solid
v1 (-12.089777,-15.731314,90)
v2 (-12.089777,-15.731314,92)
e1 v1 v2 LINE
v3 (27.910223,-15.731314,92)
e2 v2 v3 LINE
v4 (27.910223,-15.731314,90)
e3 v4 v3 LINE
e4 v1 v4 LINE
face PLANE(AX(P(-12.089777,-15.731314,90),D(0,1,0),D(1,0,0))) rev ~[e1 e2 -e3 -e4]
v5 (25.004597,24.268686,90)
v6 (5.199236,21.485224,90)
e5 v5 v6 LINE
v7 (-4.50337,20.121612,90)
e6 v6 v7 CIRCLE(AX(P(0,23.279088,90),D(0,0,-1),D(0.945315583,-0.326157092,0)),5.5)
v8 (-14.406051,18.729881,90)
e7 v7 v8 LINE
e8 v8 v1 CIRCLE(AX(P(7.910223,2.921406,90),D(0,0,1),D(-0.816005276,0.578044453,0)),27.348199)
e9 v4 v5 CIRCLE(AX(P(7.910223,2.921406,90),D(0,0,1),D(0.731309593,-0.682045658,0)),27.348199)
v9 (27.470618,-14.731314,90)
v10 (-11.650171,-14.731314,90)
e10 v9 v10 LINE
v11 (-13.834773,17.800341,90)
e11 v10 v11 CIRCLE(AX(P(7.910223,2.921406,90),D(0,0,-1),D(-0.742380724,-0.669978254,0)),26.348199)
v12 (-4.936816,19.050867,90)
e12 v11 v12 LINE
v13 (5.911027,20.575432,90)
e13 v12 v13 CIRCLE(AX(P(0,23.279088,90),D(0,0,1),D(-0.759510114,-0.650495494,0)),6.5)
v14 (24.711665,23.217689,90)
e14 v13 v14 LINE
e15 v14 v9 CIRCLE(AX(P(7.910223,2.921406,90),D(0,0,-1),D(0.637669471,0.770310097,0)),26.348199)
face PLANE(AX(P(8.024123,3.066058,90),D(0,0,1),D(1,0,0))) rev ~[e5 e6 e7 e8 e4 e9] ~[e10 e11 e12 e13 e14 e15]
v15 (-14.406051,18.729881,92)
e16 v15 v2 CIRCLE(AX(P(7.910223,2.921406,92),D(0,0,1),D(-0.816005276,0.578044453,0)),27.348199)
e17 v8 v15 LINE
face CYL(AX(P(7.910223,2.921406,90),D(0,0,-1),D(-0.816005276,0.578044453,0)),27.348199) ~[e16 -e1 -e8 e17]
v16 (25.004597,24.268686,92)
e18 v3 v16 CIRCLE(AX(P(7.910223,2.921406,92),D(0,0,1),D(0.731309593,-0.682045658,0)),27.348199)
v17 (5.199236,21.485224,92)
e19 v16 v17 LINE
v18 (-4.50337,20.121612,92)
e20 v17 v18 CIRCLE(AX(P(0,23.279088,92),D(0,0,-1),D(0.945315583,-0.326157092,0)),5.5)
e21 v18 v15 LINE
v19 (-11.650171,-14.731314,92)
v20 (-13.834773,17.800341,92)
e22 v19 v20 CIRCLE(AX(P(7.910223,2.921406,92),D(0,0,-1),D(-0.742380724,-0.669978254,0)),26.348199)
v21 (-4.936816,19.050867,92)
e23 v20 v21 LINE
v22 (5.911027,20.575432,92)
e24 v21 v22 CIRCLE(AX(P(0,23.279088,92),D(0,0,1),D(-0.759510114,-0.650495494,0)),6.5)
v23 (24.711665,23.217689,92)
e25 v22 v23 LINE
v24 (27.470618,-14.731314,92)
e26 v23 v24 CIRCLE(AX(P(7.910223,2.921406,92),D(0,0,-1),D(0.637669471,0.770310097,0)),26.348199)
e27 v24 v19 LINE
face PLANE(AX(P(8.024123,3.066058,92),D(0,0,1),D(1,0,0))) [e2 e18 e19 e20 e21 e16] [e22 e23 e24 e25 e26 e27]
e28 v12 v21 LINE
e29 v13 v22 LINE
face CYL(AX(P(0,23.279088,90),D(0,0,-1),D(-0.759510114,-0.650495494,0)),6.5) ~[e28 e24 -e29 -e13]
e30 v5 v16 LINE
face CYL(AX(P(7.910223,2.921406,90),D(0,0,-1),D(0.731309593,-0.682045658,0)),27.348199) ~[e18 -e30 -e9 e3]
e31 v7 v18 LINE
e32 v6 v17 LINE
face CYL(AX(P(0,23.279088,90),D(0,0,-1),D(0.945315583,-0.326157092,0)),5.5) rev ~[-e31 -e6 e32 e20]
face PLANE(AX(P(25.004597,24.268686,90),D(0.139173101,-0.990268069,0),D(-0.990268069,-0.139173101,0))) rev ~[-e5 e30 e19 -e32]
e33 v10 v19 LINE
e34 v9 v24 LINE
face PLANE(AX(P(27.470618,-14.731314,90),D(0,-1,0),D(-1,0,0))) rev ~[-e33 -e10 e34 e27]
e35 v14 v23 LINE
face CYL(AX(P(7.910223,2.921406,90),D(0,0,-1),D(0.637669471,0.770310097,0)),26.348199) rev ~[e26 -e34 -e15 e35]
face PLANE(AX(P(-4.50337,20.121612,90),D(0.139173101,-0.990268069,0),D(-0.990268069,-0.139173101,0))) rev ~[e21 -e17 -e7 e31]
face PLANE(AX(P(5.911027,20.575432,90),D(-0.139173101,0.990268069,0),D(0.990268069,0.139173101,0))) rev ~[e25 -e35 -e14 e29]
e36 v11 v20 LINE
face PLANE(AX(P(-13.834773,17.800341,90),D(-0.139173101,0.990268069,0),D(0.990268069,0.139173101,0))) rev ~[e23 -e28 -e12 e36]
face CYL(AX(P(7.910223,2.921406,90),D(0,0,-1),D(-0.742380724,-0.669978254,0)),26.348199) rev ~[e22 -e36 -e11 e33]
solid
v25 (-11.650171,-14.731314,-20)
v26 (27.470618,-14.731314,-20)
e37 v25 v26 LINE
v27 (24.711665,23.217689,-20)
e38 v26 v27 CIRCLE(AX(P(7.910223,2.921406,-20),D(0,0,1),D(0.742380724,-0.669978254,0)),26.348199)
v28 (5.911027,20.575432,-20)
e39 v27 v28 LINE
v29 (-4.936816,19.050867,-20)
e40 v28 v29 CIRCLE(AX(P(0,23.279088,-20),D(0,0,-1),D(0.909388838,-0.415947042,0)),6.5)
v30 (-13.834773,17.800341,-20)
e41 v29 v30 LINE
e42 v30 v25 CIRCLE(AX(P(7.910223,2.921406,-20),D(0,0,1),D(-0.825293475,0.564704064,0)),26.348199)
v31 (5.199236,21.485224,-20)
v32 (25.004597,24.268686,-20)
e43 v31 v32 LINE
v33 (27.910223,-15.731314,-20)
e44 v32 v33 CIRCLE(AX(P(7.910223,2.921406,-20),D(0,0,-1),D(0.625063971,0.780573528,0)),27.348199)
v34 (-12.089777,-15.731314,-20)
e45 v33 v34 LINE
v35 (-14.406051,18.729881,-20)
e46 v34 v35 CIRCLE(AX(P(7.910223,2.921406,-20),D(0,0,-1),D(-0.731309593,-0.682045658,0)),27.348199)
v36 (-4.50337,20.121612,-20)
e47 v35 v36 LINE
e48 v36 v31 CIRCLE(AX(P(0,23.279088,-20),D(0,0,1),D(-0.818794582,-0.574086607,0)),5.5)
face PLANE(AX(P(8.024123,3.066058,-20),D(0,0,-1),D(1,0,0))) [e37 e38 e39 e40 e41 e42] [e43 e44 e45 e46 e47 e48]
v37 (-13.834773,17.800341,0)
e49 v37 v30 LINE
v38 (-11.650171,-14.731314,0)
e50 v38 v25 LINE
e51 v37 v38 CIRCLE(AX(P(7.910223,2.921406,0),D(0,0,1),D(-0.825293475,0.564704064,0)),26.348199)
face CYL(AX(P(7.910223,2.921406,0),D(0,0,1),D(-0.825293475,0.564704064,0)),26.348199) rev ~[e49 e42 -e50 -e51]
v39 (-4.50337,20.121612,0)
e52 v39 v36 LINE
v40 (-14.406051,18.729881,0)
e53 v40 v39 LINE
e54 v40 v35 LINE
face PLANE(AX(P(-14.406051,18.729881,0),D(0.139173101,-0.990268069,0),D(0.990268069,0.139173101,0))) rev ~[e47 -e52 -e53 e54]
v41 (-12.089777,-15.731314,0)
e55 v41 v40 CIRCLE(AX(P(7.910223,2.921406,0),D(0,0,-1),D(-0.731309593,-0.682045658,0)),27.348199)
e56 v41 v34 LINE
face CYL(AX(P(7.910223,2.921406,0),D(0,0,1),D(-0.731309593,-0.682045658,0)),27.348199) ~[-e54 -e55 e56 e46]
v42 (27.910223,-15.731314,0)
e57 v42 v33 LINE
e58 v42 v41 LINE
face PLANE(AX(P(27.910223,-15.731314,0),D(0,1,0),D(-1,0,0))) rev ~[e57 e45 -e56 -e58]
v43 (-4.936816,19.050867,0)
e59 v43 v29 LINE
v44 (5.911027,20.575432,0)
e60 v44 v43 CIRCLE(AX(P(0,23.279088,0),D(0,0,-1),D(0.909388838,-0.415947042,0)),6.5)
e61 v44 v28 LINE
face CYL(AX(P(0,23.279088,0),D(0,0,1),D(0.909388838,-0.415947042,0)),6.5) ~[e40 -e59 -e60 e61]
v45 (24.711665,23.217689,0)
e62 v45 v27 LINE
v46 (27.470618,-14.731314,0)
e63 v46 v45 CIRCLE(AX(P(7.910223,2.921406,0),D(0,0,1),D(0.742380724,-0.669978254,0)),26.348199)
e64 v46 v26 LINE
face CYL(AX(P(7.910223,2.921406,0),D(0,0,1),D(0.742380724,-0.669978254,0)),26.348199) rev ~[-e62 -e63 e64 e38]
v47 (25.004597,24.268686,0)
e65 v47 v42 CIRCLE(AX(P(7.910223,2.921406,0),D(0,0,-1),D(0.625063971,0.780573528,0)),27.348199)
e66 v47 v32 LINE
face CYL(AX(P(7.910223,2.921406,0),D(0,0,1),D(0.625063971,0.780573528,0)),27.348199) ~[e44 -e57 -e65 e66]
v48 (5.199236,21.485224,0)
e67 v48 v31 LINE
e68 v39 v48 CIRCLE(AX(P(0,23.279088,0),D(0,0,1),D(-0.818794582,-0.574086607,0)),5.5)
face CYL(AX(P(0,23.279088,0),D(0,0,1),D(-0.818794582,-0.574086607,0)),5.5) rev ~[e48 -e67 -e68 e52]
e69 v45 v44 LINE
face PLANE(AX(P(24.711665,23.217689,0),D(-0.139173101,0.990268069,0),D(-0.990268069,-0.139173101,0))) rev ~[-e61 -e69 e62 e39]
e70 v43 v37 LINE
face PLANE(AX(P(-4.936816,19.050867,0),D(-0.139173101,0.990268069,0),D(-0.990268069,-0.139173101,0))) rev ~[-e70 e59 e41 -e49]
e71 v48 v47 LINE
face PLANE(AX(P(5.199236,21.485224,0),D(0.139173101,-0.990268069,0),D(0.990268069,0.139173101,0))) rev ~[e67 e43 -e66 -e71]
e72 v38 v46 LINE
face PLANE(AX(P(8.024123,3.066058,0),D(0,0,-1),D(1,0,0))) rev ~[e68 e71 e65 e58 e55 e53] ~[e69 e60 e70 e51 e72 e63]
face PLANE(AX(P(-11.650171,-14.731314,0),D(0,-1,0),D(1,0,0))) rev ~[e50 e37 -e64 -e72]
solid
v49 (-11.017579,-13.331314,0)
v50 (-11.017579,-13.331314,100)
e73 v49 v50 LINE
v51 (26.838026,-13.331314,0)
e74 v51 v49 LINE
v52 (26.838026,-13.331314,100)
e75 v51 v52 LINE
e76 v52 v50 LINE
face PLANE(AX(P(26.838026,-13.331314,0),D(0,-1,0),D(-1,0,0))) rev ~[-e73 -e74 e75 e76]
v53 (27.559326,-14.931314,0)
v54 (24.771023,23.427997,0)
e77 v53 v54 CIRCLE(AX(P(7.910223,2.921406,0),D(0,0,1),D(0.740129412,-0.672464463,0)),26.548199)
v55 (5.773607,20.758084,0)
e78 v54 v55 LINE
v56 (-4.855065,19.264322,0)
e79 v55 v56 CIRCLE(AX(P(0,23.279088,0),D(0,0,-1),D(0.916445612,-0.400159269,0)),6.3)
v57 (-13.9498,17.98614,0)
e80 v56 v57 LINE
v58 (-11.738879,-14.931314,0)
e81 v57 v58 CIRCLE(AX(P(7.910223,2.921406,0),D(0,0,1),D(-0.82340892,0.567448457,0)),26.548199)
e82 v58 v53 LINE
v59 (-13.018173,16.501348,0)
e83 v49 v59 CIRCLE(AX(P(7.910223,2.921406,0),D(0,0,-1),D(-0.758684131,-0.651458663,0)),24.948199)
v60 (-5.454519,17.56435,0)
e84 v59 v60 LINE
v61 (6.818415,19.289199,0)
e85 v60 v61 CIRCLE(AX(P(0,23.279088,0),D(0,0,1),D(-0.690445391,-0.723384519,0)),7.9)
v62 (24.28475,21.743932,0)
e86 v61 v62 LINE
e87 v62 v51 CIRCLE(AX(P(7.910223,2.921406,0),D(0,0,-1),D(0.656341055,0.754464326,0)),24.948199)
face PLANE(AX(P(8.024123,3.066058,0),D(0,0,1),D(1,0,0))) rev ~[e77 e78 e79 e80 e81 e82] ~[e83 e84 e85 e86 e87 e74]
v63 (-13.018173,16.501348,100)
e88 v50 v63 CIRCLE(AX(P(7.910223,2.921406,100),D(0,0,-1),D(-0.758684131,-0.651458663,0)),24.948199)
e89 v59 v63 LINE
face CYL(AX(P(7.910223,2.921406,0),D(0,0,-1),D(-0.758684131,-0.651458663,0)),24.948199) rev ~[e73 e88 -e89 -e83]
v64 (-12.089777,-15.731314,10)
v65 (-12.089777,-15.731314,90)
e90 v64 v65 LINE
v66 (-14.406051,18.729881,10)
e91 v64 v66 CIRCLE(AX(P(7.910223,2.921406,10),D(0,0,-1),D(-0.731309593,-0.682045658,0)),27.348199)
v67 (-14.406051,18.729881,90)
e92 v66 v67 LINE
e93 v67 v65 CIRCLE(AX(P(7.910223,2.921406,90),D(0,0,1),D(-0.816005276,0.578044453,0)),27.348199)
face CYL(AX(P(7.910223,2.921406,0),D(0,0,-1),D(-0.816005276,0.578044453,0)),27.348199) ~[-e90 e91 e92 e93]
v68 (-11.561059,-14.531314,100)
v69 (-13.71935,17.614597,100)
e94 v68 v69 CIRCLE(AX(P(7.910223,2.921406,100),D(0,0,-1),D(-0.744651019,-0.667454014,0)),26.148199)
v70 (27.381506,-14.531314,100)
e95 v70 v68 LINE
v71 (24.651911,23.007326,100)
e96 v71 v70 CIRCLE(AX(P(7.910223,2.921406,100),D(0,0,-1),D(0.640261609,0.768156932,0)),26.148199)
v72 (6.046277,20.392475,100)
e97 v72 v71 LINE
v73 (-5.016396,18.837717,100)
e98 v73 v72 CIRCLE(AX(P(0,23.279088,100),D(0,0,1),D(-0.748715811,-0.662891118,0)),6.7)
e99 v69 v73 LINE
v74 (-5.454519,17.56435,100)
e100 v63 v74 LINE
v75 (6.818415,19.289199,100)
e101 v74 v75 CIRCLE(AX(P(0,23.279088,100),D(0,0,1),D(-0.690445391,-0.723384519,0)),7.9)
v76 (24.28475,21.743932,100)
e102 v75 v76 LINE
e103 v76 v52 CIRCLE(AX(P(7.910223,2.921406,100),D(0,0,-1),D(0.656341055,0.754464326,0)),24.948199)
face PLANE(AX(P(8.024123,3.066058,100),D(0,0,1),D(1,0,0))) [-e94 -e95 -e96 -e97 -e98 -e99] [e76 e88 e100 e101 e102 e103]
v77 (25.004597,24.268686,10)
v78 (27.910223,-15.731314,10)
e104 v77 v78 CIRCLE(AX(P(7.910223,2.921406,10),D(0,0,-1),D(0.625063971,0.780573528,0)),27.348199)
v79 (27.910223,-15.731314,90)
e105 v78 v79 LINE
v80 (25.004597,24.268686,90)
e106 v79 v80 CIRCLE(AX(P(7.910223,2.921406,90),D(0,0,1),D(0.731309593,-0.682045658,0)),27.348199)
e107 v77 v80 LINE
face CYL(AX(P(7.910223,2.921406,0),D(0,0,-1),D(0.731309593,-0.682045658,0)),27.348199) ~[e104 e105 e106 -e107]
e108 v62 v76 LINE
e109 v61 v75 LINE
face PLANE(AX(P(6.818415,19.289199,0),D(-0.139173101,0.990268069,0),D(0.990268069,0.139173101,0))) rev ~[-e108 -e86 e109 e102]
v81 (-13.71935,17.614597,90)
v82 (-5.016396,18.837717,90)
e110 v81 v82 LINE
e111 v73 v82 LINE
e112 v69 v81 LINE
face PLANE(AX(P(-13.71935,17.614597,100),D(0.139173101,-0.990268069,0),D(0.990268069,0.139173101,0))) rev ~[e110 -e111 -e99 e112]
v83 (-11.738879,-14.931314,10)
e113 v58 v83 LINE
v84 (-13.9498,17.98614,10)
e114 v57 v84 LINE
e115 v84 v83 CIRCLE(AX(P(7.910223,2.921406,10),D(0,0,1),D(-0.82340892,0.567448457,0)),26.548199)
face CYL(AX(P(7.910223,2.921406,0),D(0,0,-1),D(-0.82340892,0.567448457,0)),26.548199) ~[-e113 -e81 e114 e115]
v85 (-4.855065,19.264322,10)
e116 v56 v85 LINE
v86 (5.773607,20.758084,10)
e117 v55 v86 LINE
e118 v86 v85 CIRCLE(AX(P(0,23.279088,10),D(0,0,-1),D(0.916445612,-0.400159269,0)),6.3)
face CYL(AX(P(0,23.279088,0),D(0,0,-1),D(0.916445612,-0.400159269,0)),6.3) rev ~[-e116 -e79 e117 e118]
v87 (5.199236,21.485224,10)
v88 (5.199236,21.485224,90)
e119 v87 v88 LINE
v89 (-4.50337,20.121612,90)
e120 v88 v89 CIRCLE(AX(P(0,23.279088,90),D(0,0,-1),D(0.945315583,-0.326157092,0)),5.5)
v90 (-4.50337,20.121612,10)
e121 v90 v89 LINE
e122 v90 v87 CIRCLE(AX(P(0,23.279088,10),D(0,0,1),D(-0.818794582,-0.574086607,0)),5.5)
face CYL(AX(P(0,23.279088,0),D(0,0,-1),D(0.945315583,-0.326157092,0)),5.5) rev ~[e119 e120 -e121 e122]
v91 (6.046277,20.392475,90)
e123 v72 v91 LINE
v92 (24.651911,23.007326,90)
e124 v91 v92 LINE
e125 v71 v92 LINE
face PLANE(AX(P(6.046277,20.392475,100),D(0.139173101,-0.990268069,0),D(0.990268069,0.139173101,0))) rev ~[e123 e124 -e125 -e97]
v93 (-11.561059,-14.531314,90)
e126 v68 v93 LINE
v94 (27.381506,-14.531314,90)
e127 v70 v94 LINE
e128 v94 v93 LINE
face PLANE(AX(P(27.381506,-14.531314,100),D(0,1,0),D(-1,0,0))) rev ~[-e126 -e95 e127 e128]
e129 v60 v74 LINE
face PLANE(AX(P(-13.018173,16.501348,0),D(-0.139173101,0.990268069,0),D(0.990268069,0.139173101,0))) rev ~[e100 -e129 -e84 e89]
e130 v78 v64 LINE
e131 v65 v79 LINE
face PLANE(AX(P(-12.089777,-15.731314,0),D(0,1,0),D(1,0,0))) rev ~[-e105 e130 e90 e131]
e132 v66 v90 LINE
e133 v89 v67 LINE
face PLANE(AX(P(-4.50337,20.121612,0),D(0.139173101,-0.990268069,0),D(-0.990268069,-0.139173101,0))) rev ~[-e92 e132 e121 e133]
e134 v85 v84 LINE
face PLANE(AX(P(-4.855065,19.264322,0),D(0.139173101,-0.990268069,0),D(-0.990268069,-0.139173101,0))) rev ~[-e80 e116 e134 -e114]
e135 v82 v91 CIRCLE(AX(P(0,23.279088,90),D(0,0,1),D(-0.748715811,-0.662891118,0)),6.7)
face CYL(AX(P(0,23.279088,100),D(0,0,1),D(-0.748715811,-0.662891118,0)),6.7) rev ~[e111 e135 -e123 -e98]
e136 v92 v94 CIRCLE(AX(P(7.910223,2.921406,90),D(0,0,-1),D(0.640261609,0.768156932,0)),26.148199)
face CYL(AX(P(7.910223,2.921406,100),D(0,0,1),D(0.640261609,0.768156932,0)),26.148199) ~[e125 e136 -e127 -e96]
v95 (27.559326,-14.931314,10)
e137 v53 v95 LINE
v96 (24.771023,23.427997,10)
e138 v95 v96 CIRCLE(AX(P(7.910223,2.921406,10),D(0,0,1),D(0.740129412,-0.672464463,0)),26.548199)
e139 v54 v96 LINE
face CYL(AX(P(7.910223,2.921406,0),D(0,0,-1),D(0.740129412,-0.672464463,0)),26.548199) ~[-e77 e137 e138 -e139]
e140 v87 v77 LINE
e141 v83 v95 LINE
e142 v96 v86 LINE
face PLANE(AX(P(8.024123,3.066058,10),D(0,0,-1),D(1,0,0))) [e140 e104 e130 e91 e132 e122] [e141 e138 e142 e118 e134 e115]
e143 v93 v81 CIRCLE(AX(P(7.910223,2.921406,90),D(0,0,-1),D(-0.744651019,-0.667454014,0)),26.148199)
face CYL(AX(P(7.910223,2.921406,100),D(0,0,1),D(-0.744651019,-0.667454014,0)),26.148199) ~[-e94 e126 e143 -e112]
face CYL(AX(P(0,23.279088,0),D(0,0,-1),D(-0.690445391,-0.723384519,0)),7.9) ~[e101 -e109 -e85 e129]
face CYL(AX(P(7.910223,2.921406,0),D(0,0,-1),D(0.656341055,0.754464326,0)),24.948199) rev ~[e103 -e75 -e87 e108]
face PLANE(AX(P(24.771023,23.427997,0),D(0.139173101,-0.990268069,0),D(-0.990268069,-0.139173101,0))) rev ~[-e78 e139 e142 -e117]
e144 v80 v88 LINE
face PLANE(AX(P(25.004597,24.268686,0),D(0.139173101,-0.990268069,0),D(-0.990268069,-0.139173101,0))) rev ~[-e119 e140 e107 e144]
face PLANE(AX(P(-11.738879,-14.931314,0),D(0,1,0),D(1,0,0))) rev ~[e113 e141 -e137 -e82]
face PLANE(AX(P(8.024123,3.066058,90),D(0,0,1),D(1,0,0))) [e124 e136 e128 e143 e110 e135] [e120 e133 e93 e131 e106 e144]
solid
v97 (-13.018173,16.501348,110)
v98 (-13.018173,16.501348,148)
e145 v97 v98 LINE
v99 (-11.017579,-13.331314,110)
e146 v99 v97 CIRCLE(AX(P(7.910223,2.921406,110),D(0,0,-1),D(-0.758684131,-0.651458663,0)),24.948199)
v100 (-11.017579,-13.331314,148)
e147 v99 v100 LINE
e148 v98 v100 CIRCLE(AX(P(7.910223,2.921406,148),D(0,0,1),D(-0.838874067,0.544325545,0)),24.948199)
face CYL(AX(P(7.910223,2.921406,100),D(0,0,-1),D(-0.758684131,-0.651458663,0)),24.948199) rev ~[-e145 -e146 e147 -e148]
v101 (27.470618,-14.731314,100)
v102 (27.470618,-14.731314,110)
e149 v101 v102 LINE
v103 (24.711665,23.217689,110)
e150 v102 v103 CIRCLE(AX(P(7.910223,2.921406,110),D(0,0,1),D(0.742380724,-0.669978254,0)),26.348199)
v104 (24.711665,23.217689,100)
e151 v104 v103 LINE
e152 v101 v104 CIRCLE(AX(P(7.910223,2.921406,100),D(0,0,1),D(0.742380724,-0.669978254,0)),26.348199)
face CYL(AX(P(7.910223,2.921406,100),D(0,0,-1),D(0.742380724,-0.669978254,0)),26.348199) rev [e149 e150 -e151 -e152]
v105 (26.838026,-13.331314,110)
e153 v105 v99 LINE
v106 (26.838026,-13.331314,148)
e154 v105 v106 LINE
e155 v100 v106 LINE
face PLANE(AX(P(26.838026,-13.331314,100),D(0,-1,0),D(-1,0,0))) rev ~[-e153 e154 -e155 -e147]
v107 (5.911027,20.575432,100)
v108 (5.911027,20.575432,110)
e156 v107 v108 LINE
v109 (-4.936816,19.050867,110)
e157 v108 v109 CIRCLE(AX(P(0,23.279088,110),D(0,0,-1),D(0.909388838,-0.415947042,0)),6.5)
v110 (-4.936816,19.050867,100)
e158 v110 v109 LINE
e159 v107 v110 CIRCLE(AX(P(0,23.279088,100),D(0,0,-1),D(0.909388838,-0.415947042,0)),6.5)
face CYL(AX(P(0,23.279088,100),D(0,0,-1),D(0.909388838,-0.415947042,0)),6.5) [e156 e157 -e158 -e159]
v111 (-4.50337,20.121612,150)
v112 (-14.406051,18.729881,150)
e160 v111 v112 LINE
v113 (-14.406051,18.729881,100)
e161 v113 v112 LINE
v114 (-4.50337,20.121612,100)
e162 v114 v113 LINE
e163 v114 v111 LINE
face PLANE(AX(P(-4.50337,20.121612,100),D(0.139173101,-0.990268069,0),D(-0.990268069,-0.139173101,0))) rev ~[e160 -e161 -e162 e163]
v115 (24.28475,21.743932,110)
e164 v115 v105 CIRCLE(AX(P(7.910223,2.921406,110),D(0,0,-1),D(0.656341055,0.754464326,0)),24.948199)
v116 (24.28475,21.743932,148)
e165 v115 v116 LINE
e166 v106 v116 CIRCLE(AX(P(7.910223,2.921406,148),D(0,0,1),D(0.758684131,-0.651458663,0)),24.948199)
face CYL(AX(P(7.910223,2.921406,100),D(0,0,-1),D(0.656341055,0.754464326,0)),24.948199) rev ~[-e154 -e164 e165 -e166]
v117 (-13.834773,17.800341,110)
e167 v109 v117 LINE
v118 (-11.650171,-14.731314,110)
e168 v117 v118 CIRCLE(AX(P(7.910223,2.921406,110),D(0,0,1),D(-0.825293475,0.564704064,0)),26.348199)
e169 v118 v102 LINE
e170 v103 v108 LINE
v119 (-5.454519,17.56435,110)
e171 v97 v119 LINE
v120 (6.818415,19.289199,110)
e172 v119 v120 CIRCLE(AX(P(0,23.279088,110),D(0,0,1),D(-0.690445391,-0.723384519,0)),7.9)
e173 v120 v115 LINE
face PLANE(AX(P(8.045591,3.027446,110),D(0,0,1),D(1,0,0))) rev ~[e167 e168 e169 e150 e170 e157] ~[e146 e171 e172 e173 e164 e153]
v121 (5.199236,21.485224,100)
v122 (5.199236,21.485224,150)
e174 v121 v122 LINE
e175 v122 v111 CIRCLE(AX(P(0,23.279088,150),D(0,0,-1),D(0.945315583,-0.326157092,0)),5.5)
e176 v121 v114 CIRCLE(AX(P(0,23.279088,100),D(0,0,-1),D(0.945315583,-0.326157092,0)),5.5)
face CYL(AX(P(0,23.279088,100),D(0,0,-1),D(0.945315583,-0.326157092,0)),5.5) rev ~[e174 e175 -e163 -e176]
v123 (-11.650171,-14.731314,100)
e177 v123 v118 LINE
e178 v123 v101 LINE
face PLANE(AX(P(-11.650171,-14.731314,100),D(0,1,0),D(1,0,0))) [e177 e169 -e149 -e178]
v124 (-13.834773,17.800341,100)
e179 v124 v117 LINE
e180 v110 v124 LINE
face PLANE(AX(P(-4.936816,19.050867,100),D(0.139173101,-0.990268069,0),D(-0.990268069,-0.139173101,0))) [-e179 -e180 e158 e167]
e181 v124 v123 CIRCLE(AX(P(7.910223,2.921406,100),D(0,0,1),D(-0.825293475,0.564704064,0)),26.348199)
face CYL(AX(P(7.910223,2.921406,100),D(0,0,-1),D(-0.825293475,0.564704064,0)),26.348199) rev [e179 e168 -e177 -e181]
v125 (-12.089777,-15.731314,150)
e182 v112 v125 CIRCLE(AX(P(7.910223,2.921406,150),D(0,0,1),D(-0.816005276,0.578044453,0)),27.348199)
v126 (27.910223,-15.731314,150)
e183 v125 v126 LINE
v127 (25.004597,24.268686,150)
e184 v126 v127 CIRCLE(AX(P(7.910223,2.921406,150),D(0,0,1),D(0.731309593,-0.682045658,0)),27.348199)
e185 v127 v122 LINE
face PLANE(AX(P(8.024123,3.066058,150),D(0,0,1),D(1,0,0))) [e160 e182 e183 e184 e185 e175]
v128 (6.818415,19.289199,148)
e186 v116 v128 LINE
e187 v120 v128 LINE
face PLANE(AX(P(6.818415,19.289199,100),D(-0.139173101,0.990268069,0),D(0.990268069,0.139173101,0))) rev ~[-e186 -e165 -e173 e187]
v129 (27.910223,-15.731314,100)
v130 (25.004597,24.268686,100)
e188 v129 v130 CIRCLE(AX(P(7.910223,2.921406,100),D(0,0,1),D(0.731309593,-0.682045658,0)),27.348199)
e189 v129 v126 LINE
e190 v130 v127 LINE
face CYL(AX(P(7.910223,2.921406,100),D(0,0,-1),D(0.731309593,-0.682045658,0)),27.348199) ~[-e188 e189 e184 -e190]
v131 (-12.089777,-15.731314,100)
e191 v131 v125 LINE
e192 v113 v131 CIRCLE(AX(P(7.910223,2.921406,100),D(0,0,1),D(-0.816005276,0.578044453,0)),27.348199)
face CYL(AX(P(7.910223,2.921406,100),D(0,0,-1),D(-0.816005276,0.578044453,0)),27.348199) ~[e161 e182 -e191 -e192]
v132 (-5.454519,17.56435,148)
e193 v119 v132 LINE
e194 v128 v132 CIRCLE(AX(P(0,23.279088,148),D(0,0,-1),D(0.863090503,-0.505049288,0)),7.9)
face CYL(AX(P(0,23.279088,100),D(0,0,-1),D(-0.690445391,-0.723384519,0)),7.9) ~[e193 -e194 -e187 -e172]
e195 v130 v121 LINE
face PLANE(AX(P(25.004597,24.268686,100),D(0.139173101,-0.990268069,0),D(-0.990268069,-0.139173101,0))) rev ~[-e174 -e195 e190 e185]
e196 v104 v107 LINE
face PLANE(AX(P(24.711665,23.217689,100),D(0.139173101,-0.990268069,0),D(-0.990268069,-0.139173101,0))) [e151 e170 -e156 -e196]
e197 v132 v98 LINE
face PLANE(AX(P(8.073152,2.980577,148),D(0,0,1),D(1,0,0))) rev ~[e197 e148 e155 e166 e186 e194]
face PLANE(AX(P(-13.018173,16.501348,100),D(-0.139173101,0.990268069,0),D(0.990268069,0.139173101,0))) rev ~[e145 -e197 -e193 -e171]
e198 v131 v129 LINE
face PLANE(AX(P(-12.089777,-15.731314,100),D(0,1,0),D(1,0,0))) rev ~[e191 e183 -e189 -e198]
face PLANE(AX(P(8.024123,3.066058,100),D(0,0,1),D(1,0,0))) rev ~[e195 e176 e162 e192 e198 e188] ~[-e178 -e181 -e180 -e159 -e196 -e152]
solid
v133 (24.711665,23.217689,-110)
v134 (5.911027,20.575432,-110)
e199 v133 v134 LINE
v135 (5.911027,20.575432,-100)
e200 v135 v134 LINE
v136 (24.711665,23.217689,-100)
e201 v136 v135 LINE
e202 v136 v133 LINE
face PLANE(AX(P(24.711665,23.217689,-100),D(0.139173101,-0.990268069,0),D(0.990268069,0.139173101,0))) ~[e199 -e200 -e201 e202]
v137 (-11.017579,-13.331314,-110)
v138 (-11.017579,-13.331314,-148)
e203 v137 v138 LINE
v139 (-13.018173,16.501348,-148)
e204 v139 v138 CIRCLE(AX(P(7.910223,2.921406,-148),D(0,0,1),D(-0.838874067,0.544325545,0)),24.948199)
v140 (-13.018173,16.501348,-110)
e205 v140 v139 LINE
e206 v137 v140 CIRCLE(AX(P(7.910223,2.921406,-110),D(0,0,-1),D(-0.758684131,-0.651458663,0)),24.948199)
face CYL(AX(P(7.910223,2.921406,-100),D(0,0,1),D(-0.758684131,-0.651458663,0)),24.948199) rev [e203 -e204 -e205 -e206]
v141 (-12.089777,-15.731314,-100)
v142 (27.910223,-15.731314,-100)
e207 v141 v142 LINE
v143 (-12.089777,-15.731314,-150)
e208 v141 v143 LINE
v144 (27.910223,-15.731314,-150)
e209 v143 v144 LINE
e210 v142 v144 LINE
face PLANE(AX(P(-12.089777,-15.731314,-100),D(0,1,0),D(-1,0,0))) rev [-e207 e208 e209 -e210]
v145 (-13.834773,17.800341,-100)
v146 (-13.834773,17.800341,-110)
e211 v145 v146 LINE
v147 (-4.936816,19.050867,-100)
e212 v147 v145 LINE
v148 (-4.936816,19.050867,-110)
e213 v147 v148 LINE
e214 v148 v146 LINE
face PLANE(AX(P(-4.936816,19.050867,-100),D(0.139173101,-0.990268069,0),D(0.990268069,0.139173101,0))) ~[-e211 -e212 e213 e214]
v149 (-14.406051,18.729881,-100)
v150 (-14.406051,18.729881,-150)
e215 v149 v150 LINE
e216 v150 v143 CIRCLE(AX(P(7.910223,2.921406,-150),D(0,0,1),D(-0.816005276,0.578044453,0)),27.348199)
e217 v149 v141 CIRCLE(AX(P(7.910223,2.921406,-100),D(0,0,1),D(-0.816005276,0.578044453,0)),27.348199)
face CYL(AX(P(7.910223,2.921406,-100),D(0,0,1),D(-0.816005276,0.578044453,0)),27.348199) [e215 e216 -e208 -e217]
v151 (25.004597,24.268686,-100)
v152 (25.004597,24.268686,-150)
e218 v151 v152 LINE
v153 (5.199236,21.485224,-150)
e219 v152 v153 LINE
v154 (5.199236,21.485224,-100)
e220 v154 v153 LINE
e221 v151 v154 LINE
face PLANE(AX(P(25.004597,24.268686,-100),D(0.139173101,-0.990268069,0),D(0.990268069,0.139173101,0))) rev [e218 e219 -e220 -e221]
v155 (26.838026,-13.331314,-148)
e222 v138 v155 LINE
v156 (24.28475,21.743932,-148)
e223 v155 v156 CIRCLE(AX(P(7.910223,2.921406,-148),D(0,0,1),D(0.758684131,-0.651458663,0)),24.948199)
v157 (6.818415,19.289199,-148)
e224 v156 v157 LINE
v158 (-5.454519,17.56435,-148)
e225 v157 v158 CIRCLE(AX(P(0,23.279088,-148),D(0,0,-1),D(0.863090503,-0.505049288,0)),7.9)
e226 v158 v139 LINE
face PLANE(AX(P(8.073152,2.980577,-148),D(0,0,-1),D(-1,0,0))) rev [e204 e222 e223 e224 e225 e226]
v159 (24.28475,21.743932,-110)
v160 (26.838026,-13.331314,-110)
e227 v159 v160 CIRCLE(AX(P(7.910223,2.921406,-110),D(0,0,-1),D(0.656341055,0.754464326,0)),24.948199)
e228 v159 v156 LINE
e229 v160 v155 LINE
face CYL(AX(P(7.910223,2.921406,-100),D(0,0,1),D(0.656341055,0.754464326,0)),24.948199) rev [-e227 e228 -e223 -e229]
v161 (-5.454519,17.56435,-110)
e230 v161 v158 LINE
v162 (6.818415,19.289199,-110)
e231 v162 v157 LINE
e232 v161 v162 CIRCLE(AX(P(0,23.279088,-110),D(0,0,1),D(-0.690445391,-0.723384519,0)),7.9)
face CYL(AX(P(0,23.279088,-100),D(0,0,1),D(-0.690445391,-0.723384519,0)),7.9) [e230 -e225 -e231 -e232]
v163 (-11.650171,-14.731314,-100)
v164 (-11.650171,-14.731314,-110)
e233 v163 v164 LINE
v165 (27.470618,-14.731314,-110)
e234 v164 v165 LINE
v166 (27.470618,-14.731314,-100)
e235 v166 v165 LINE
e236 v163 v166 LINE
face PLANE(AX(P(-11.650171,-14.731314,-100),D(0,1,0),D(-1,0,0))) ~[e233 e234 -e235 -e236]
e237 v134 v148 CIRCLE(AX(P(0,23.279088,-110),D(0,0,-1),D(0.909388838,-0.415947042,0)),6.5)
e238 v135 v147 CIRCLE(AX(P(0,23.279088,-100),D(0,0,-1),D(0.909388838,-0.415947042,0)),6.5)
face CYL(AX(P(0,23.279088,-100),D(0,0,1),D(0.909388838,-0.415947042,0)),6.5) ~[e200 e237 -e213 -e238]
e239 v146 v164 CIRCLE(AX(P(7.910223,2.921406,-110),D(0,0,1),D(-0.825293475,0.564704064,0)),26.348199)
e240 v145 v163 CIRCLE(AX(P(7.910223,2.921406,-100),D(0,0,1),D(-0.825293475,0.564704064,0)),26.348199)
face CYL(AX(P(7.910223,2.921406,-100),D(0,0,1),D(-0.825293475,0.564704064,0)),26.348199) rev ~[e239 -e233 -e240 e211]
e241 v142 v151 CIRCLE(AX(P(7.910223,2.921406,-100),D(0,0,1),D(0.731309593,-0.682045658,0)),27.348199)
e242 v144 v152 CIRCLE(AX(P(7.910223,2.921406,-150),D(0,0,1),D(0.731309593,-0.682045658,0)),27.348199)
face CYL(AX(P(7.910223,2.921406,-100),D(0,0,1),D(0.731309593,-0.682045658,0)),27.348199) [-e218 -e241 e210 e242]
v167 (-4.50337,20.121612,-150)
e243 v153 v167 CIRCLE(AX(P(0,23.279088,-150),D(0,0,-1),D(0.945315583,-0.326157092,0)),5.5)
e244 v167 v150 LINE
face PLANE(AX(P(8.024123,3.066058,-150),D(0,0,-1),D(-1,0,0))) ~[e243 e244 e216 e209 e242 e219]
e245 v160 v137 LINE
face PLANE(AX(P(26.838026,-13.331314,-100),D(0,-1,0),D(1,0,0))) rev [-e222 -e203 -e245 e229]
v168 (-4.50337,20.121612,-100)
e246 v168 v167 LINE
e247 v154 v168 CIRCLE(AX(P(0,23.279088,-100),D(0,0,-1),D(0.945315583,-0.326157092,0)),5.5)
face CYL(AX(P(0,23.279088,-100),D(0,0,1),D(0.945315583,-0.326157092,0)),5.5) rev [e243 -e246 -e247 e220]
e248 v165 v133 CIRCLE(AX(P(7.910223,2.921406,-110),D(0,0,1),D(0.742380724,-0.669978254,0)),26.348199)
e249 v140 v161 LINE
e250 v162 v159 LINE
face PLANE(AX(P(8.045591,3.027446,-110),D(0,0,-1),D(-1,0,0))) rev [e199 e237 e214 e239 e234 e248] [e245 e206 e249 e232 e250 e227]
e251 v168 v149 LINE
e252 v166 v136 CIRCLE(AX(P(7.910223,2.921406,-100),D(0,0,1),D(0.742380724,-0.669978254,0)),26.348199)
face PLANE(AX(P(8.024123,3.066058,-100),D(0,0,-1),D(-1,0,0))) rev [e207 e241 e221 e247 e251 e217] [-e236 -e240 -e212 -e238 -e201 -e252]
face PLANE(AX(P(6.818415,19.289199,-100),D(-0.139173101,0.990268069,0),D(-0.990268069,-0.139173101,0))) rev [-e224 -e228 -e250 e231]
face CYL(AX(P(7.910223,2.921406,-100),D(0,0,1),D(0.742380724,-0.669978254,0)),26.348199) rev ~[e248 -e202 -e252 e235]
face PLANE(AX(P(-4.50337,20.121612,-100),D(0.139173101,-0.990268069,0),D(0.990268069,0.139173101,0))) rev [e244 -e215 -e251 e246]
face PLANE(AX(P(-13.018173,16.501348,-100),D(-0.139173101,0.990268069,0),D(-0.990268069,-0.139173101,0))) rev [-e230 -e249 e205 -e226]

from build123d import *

# Parameters (mm, degrees)
F1_DEPTH  = 100
F3_DEPTH  = 10
F5_DEPTH  = 10
F7_DEPTH  = 2
F9_DEPTH  = 50
F10_DEPTH = 10
F11_START = 48
F11_DEPTH = 2
F13_DEPTH = 20


with BuildPart() as f1:
    # F0 (on Top) → F1 (new body)
    with BuildSketch(Plane.XY):
        with BuildLine():
            Line((-12.0897765349, -15.731314094), (27.9102234651, -15.731314094))
            ThreePointArc((27.9102234651, -15.731314094), (35.186552736, 4.9027765722), (25.0045970812, 24.268685906))
            Line((25.0045970812, 24.268685906), (5.1992357064, 21.4852238868))
            ThreePointArc((5.1992357064, 21.4852238868), (0.7654520553, 17.832613514), (-4.5033702016, 20.1216115537))
            Line((-4.5033702016, 20.1216115537), (-14.406050889, 18.7298805441))
            ThreePointArc((-14.406050889, 18.7298805441), (-19.3764079278, 1.0873626828), (-12.0897765349, -15.731314094))
        make_face()
        with BuildLine():
            ThreePointArc((-11.0175789214, -13.331314094), (-16.9820661814, 1.2521155975), (-13.0181733872, 16.5013478326))
            Line((-13.0181733872, 16.5013478326), (-5.4545185869, 17.5643501916))
            ThreePointArc((-5.4545185869, 17.5643501916), (1.0994674976, 15.455970149), (6.8184149763, 19.2891985189))
            Line((6.8184149763, 19.2891985189), (24.284750464, 21.7439318875))
            ThreePointArc((24.284750464, 21.7439318875), (32.7925833849, 4.7326981573), (26.8380258517, -13.331314094))
            Line((26.8380258517, -13.331314094), (-11.0175789214, -13.331314094))
        make_face(mode=Mode.SUBTRACT)
    extrude(amount=F1_DEPTH)

    # F2 (on face) → F3 (cut)
    with BuildSketch(Plane(origin=(0, 0, 0), x_dir=(1, 0, 0), z_dir=(0, 0, -1))):
        with BuildLine():
            Line((27.9102234651, 15.731314094), (-12.0897765349, 15.731314094))
            ThreePointArc((-12.0897765349, 15.731314094), (-19.3764079278, -1.0873626828), (-14.406050889, -18.7298805441))
            Line((-14.406050889, -18.7298805441), (-4.5033702016, -20.1216115537))
            ThreePointArc((-4.5033702016, -20.1216115537), (0.7654520553, -17.832613514), (5.1992357064, -21.4852238868))
            Line((5.1992357064, -21.4852238868), (25.0045970812, -24.268685906))
            ThreePointArc((25.0045970812, -24.268685906), (35.186552736, -4.9027765722), (27.9102234651, 15.731314094))
        make_face()
        with BuildLine():
            ThreePointArc((5.7736073555, -20.7580844998), (0.876790536, -17.040399059), (-4.8550648892, -19.2643220307))
            Line((-4.8550648892, -19.2643220307), (-13.9498000809, -17.9861403555))
            ThreePointArc((-13.9498000809, -17.9861403555), (-18.5782946315, -1.1422885446), (-11.7388791707, 14.931314094))
            Line((-11.7388791707, 14.931314094), (27.559326101, 14.931314094))
            ThreePointArc((27.559326101, 14.931314094), (34.3885624209, -4.846091997), (24.7710232347, -23.4279971846))
            Line((24.7710232347, -23.4279971846), (5.7736073555, -20.7580844998))
        make_face(mode=Mode.SUBTRACT)
    extrude(amount=-F3_DEPTH, mode=Mode.SUBTRACT)

    # F4 (on face) → F5 (cut)
    with BuildSketch(Plane.XY.offset(100)):
        with BuildLine():
            Line((-4.5033702016, 20.1216115537), (-14.406050889, 18.7298805441))
            ThreePointArc((-14.406050889, 18.7298805441), (-19.3764079278, 1.0873626828), (-12.0897765349, -15.731314094))
            Line((-12.0897765349, -15.731314094), (27.9102234651, -15.731314094))
            ThreePointArc((27.9102234651, -15.731314094), (35.186552736, 4.9027765722), (25.0045970812, 24.268685906))
            Line((25.0045970812, 24.268685906), (5.1992357064, 21.4852238868))
            ThreePointArc((5.1992357064, 21.4852238868), (0.7654520553, 17.832613514), (-4.5033702016, 20.1216115537))
        make_face()
        with BuildLine():
            ThreePointArc((-11.5610592762, -14.531314094), (-18.1792377522, 1.1697483945), (-13.7193495518, 17.6145970362))
            Line((-13.7193495518, 17.6145970362), (-5.0163959343, 18.837717402))
            ThreePointArc((-5.0163959343, 18.837717402), (0.9324597764, 16.6442918315), (6.0462768814, 20.3924746735))
            Line((6.0462768814, 20.3924746735), (24.6519111864, 23.0073260489))
            ThreePointArc((24.6519111864, 23.0073260489), (33.9895674633, 4.8177466261), (27.3815062065, -14.531314094))
            Line((27.3815062065, -14.531314094), (-11.5610592762, -14.531314094))
        make_face(mode=Mode.SUBTRACT)
    extrude(amount=-F5_DEPTH, mode=Mode.SUBTRACT)


with BuildPart() as f7:
    # F6 (on face) → F7 (new body)
    with BuildSketch(Plane.XY.offset(90)):
        with BuildLine():
            Line((-4.5033702016, 20.1216115537), (-14.406050889, 18.7298805441))
            ThreePointArc((-14.406050889, 18.7298805441), (-19.3764079278, 1.0873626828), (-12.0897765349, -15.731314094))
            Line((-12.0897765349, -15.731314094), (27.9102234651, -15.731314094))
            ThreePointArc((27.9102234651, -15.731314094), (35.186552736, 4.9027765722), (25.0045970812, 24.268685906))
            Line((25.0045970812, 24.268685906), (5.1992357064, 21.4852238868))
            ThreePointArc((5.1992357064, 21.4852238868), (0.7654520553, 17.832613514), (-4.5033702016, 20.1216115537))
        make_face()
        with BuildLine():
            ThreePointArc((-11.6501712904, -14.731314094), (-18.3787662112, 1.1560187267), (-13.8347729453, 17.8003408506))
            Line((-13.8347729453, 17.8003408506), (-4.9368157389, 19.0508671835))
            ThreePointArc((-4.9368157389, 19.0508671835), (0.9046251562, 16.8423454453), (5.9110274456, 20.5754321194))
            Line((5.9110274456, 20.5754321194), (24.7116653394, 23.217689462))
            ThreePointArc((24.7116653394, 23.217689462), (34.1890649255, 4.8319195689), (27.4706182207, -14.731314094))
            Line((27.4706182207, -14.731314094), (-11.6501712904, -14.731314094))
        make_face(mode=Mode.SUBTRACT)
    extrude(amount=F7_DEPTH)


with BuildPart() as f9:
    # F8 (on face) → F9 (new body)
    with BuildSketch(Plane.XY.offset(100)):
        with BuildLine():
            Line((-4.5033702016, 20.1216115537), (-14.406050889, 18.7298805441))
            ThreePointArc((-14.406050889, 18.7298805441), (-19.3764079278, 1.0873626828), (-12.0897765349, -15.731314094))
            Line((-12.0897765349, -15.731314094), (27.9102234651, -15.731314094))
            ThreePointArc((27.9102234651, -15.731314094), (35.186552736, 4.9027765722), (25.0045970812, 24.268685906))
            Line((25.0045970812, 24.268685906), (5.1992357064, 21.4852238868))
            ThreePointArc((5.1992357064, 21.4852238868), (0.7654520553, 17.832613514), (-4.5033702016, 20.1216115537))
        make_face()
        with BuildLine():
            Line((-13.8347729453, 17.8003408506), (-4.9368157389, 19.0508671835))
            ThreePointArc((-4.9368157389, 19.0508671835), (0.9046251562, 16.8423454453), (5.9110274456, 20.5754321194))
            Line((5.9110274456, 20.5754321194), (24.7116653394, 23.217689462))
            ThreePointArc((24.7116653394, 23.217689462), (34.1890649255, 4.8319195689), (27.4706182207, -14.731314094))
            Line((27.4706182207, -14.731314094), (-11.6501712904, -14.731314094))
            ThreePointArc((-11.6501712904, -14.731314094), (-18.3787662112, 1.1560187267), (-13.8347729453, 17.8003408506))
        make_face(mode=Mode.SUBTRACT)
        with BuildLine():
            ThreePointArc((5.9110274456, 20.5754321194), (0.9046251562, 16.8423454453), (-4.9368157389, 19.0508671835))
            Line((-4.9368157389, 19.0508671835), (-13.8347729453, 17.8003408506))
            ThreePointArc((-13.8347729453, 17.8003408506), (-18.3787662112, 1.1560187267), (-11.6501712904, -14.731314094))
            Line((-11.6501712904, -14.731314094), (27.4706182207, -14.731314094))
            ThreePointArc((27.4706182207, -14.731314094), (34.1890649255, 4.8319195689), (24.7116653394, 23.217689462))
            Line((24.7116653394, 23.217689462), (5.9110274456, 20.5754321194))
        make_face()
        with BuildLine():
            ThreePointArc((-11.5610592762, -14.531314094), (-18.1792377522, 1.1697483945), (-13.7193495518, 17.6145970362))
            Line((-13.7193495518, 17.6145970362), (-5.0163959343, 18.837717402))
            ThreePointArc((-5.0163959343, 18.837717402), (0.9324597764, 16.6442918315), (6.0462768814, 20.3924746735))
            Line((6.0462768814, 20.3924746735), (24.6519111864, 23.0073260489))
            ThreePointArc((24.6519111864, 23.0073260489), (33.9895674633, 4.8177466261), (27.3815062065, -14.531314094))
            Line((27.3815062065, -14.531314094), (-11.5610592762, -14.531314094))
        make_face(mode=Mode.SUBTRACT)
        with BuildLine():
            Line((-5.0163959343, 18.837717402), (-13.7193495518, 17.6145970362))
            ThreePointArc((-13.7193495518, 17.6145970362), (-18.1792377522, 1.1697483945), (-11.5610592762, -14.531314094))
            Line((-11.5610592762, -14.531314094), (27.3815062065, -14.531314094))
            ThreePointArc((27.3815062065, -14.531314094), (33.9895674633, 4.8177466261), (24.6519111864, 23.0073260489))
            Line((24.6519111864, 23.0073260489), (6.0462768814, 20.3924746735))
            ThreePointArc((6.0462768814, 20.3924746735), (0.9324597764, 16.6442918315), (-5.0163959343, 18.837717402))
        make_face()
        with BuildLine():
            ThreePointArc((-11.0175789214, -13.331314094), (-16.9820661814, 1.2521155975), (-13.0181733872, 16.5013478326))
            Line((-13.0181733872, 16.5013478326), (-5.4545185869, 17.5643501916))
            ThreePointArc((-5.4545185869, 17.5643501916), (1.0994674976, 15.455970149), (6.8184149763, 19.2891985189))
            Line((6.8184149763, 19.2891985189), (24.284750464, 21.7439318875))
            ThreePointArc((24.284750464, 21.7439318875), (32.7925833849, 4.7326981573), (26.8380258517, -13.331314094))
            Line((26.8380258517, -13.331314094), (-11.0175789214, -13.331314094))
        make_face(mode=Mode.SUBTRACT)
    extrude(amount=F9_DEPTH)

    # F8 (on face) → F10 (cut)
    with BuildSketch(Plane.XY.offset(100)):
        with BuildLine():
            ThreePointArc((5.9110274456, 20.5754321194), (0.9046251562, 16.8423454453), (-4.9368157389, 19.0508671835))
            Line((-4.9368157389, 19.0508671835), (-13.8347729453, 17.8003408506))
            ThreePointArc((-13.8347729453, 17.8003408506), (-18.3787662112, 1.1560187267), (-11.6501712904, -14.731314094))
            Line((-11.6501712904, -14.731314094), (27.4706182207, -14.731314094))
            ThreePointArc((27.4706182207, -14.731314094), (34.1890649255, 4.8319195689), (24.7116653394, 23.217689462))
            Line((24.7116653394, 23.217689462), (5.9110274456, 20.5754321194))
        make_face()
        with BuildLine():
            ThreePointArc((-11.5610592762, -14.531314094), (-18.1792377522, 1.1697483945), (-13.7193495518, 17.6145970362))
            Line((-13.7193495518, 17.6145970362), (-5.0163959343, 18.837717402))
            ThreePointArc((-5.0163959343, 18.837717402), (0.9324597764, 16.6442918315), (6.0462768814, 20.3924746735))
            Line((6.0462768814, 20.3924746735), (24.6519111864, 23.0073260489))
            ThreePointArc((24.6519111864, 23.0073260489), (33.9895674633, 4.8177466261), (27.3815062065, -14.531314094))
            Line((27.3815062065, -14.531314094), (-11.5610592762, -14.531314094))
        make_face(mode=Mode.SUBTRACT)
        with BuildLine():
            Line((-5.0163959343, 18.837717402), (-13.7193495518, 17.6145970362))
            ThreePointArc((-13.7193495518, 17.6145970362), (-18.1792377522, 1.1697483945), (-11.5610592762, -14.531314094))
            Line((-11.5610592762, -14.531314094), (27.3815062065, -14.531314094))
            ThreePointArc((27.3815062065, -14.531314094), (33.9895674633, 4.8177466261), (24.6519111864, 23.0073260489))
            Line((24.6519111864, 23.0073260489), (6.0462768814, 20.3924746735))
            ThreePointArc((6.0462768814, 20.3924746735), (0.9324597764, 16.6442918315), (-5.0163959343, 18.837717402))
        make_face()
        with BuildLine():
            ThreePointArc((-11.0175789214, -13.331314094), (-16.9820661814, 1.2521155975), (-13.0181733872, 16.5013478326))
            Line((-13.0181733872, 16.5013478326), (-5.4545185869, 17.5643501916))
            ThreePointArc((-5.4545185869, 17.5643501916), (1.0994674976, 15.455970149), (6.8184149763, 19.2891985189))
            Line((6.8184149763, 19.2891985189), (24.284750464, 21.7439318875))
            ThreePointArc((24.284750464, 21.7439318875), (32.7925833849, 4.7326981573), (26.8380258517, -13.331314094))
            Line((26.8380258517, -13.331314094), (-11.0175789214, -13.331314094))
        make_face(mode=Mode.SUBTRACT)
    extrude(amount=F10_DEPTH, mode=Mode.SUBTRACT)

    # F8 (on face) → F11 (join)
    with BuildSketch(Plane.XY.offset(100).offset(F11_START)):
        with BuildLine():
            Line((-5.4545185869, 17.5643501916), (-13.0181733872, 16.5013478326))
            ThreePointArc((-13.0181733872, 16.5013478326), (-16.9820661814, 1.2521155975), (-11.0175789214, -13.331314094))
            Line((-11.0175789214, -13.331314094), (26.8380258517, -13.331314094))
            ThreePointArc((26.8380258517, -13.331314094), (32.7925833849, 4.7326981573), (24.284750464, 21.7439318875))
            Line((24.284750464, 21.7439318875), (6.8184149763, 19.2891985189))
            ThreePointArc((6.8184149763, 19.2891985189), (1.0994674976, 15.455970149), (-5.4545185869, 17.5643501916))
        make_face()
    extrude(amount=F11_DEPTH)


with BuildPart() as f13:
    # F12 (on face) → F13 (new body)
    with BuildSketch(Plane(origin=(0, 0, 0), x_dir=(1, 0, 0), z_dir=(0, 0, -1))):
        with BuildLine():
            ThreePointArc((-12.0897765349, 15.731314094), (-19.3764079278, -1.0873626828), (-14.406050889, -18.7298805441))
            Line((-14.406050889, -18.7298805441), (-4.5033702016, -20.1216115537))
            ThreePointArc((-4.5033702016, -20.1216115537), (0.7654520553, -17.832613514), (5.1992357064, -21.4852238868))
            Line((5.1992357064, -21.4852238868), (25.0045970812, -24.268685906))
            ThreePointArc((25.0045970812, -24.268685906), (35.186552736, -4.9027765722), (27.9102234651, 15.731314094))
            Line((27.9102234651, 15.731314094), (-12.0897765349, 15.731314094))
        make_face()
        with BuildLine():
            ThreePointArc((5.9110274456, -20.5754321194), (0.9046251562, -16.8423454453), (-4.9368157389, -19.0508671835))
            Line((-4.9368157389, -19.0508671835), (-13.8347729453, -17.8003408506))
            ThreePointArc((-13.8347729453, -17.8003408506), (-18.3787662112, -1.1560187267), (-11.6501712904, 14.731314094))
            Line((-11.6501712904, 14.731314094), (27.4706182207, 14.731314094))
            ThreePointArc((27.4706182207, 14.731314094), (34.1890649255, -4.8319195689), (24.7116653394, -23.217689462))
            Line((24.7116653394, -23.217689462), (5.9110274456, -20.5754321194))
        make_face(mode=Mode.SUBTRACT)
    extrude(amount=F13_DEPTH)


with BuildPart() as f14_1:
    # F14: instance of F9
    add(f9.part.mirror(Plane.XY))


solid = Compound([f1.part, f7.part, f9.part, f13.part, f14_1.part])
